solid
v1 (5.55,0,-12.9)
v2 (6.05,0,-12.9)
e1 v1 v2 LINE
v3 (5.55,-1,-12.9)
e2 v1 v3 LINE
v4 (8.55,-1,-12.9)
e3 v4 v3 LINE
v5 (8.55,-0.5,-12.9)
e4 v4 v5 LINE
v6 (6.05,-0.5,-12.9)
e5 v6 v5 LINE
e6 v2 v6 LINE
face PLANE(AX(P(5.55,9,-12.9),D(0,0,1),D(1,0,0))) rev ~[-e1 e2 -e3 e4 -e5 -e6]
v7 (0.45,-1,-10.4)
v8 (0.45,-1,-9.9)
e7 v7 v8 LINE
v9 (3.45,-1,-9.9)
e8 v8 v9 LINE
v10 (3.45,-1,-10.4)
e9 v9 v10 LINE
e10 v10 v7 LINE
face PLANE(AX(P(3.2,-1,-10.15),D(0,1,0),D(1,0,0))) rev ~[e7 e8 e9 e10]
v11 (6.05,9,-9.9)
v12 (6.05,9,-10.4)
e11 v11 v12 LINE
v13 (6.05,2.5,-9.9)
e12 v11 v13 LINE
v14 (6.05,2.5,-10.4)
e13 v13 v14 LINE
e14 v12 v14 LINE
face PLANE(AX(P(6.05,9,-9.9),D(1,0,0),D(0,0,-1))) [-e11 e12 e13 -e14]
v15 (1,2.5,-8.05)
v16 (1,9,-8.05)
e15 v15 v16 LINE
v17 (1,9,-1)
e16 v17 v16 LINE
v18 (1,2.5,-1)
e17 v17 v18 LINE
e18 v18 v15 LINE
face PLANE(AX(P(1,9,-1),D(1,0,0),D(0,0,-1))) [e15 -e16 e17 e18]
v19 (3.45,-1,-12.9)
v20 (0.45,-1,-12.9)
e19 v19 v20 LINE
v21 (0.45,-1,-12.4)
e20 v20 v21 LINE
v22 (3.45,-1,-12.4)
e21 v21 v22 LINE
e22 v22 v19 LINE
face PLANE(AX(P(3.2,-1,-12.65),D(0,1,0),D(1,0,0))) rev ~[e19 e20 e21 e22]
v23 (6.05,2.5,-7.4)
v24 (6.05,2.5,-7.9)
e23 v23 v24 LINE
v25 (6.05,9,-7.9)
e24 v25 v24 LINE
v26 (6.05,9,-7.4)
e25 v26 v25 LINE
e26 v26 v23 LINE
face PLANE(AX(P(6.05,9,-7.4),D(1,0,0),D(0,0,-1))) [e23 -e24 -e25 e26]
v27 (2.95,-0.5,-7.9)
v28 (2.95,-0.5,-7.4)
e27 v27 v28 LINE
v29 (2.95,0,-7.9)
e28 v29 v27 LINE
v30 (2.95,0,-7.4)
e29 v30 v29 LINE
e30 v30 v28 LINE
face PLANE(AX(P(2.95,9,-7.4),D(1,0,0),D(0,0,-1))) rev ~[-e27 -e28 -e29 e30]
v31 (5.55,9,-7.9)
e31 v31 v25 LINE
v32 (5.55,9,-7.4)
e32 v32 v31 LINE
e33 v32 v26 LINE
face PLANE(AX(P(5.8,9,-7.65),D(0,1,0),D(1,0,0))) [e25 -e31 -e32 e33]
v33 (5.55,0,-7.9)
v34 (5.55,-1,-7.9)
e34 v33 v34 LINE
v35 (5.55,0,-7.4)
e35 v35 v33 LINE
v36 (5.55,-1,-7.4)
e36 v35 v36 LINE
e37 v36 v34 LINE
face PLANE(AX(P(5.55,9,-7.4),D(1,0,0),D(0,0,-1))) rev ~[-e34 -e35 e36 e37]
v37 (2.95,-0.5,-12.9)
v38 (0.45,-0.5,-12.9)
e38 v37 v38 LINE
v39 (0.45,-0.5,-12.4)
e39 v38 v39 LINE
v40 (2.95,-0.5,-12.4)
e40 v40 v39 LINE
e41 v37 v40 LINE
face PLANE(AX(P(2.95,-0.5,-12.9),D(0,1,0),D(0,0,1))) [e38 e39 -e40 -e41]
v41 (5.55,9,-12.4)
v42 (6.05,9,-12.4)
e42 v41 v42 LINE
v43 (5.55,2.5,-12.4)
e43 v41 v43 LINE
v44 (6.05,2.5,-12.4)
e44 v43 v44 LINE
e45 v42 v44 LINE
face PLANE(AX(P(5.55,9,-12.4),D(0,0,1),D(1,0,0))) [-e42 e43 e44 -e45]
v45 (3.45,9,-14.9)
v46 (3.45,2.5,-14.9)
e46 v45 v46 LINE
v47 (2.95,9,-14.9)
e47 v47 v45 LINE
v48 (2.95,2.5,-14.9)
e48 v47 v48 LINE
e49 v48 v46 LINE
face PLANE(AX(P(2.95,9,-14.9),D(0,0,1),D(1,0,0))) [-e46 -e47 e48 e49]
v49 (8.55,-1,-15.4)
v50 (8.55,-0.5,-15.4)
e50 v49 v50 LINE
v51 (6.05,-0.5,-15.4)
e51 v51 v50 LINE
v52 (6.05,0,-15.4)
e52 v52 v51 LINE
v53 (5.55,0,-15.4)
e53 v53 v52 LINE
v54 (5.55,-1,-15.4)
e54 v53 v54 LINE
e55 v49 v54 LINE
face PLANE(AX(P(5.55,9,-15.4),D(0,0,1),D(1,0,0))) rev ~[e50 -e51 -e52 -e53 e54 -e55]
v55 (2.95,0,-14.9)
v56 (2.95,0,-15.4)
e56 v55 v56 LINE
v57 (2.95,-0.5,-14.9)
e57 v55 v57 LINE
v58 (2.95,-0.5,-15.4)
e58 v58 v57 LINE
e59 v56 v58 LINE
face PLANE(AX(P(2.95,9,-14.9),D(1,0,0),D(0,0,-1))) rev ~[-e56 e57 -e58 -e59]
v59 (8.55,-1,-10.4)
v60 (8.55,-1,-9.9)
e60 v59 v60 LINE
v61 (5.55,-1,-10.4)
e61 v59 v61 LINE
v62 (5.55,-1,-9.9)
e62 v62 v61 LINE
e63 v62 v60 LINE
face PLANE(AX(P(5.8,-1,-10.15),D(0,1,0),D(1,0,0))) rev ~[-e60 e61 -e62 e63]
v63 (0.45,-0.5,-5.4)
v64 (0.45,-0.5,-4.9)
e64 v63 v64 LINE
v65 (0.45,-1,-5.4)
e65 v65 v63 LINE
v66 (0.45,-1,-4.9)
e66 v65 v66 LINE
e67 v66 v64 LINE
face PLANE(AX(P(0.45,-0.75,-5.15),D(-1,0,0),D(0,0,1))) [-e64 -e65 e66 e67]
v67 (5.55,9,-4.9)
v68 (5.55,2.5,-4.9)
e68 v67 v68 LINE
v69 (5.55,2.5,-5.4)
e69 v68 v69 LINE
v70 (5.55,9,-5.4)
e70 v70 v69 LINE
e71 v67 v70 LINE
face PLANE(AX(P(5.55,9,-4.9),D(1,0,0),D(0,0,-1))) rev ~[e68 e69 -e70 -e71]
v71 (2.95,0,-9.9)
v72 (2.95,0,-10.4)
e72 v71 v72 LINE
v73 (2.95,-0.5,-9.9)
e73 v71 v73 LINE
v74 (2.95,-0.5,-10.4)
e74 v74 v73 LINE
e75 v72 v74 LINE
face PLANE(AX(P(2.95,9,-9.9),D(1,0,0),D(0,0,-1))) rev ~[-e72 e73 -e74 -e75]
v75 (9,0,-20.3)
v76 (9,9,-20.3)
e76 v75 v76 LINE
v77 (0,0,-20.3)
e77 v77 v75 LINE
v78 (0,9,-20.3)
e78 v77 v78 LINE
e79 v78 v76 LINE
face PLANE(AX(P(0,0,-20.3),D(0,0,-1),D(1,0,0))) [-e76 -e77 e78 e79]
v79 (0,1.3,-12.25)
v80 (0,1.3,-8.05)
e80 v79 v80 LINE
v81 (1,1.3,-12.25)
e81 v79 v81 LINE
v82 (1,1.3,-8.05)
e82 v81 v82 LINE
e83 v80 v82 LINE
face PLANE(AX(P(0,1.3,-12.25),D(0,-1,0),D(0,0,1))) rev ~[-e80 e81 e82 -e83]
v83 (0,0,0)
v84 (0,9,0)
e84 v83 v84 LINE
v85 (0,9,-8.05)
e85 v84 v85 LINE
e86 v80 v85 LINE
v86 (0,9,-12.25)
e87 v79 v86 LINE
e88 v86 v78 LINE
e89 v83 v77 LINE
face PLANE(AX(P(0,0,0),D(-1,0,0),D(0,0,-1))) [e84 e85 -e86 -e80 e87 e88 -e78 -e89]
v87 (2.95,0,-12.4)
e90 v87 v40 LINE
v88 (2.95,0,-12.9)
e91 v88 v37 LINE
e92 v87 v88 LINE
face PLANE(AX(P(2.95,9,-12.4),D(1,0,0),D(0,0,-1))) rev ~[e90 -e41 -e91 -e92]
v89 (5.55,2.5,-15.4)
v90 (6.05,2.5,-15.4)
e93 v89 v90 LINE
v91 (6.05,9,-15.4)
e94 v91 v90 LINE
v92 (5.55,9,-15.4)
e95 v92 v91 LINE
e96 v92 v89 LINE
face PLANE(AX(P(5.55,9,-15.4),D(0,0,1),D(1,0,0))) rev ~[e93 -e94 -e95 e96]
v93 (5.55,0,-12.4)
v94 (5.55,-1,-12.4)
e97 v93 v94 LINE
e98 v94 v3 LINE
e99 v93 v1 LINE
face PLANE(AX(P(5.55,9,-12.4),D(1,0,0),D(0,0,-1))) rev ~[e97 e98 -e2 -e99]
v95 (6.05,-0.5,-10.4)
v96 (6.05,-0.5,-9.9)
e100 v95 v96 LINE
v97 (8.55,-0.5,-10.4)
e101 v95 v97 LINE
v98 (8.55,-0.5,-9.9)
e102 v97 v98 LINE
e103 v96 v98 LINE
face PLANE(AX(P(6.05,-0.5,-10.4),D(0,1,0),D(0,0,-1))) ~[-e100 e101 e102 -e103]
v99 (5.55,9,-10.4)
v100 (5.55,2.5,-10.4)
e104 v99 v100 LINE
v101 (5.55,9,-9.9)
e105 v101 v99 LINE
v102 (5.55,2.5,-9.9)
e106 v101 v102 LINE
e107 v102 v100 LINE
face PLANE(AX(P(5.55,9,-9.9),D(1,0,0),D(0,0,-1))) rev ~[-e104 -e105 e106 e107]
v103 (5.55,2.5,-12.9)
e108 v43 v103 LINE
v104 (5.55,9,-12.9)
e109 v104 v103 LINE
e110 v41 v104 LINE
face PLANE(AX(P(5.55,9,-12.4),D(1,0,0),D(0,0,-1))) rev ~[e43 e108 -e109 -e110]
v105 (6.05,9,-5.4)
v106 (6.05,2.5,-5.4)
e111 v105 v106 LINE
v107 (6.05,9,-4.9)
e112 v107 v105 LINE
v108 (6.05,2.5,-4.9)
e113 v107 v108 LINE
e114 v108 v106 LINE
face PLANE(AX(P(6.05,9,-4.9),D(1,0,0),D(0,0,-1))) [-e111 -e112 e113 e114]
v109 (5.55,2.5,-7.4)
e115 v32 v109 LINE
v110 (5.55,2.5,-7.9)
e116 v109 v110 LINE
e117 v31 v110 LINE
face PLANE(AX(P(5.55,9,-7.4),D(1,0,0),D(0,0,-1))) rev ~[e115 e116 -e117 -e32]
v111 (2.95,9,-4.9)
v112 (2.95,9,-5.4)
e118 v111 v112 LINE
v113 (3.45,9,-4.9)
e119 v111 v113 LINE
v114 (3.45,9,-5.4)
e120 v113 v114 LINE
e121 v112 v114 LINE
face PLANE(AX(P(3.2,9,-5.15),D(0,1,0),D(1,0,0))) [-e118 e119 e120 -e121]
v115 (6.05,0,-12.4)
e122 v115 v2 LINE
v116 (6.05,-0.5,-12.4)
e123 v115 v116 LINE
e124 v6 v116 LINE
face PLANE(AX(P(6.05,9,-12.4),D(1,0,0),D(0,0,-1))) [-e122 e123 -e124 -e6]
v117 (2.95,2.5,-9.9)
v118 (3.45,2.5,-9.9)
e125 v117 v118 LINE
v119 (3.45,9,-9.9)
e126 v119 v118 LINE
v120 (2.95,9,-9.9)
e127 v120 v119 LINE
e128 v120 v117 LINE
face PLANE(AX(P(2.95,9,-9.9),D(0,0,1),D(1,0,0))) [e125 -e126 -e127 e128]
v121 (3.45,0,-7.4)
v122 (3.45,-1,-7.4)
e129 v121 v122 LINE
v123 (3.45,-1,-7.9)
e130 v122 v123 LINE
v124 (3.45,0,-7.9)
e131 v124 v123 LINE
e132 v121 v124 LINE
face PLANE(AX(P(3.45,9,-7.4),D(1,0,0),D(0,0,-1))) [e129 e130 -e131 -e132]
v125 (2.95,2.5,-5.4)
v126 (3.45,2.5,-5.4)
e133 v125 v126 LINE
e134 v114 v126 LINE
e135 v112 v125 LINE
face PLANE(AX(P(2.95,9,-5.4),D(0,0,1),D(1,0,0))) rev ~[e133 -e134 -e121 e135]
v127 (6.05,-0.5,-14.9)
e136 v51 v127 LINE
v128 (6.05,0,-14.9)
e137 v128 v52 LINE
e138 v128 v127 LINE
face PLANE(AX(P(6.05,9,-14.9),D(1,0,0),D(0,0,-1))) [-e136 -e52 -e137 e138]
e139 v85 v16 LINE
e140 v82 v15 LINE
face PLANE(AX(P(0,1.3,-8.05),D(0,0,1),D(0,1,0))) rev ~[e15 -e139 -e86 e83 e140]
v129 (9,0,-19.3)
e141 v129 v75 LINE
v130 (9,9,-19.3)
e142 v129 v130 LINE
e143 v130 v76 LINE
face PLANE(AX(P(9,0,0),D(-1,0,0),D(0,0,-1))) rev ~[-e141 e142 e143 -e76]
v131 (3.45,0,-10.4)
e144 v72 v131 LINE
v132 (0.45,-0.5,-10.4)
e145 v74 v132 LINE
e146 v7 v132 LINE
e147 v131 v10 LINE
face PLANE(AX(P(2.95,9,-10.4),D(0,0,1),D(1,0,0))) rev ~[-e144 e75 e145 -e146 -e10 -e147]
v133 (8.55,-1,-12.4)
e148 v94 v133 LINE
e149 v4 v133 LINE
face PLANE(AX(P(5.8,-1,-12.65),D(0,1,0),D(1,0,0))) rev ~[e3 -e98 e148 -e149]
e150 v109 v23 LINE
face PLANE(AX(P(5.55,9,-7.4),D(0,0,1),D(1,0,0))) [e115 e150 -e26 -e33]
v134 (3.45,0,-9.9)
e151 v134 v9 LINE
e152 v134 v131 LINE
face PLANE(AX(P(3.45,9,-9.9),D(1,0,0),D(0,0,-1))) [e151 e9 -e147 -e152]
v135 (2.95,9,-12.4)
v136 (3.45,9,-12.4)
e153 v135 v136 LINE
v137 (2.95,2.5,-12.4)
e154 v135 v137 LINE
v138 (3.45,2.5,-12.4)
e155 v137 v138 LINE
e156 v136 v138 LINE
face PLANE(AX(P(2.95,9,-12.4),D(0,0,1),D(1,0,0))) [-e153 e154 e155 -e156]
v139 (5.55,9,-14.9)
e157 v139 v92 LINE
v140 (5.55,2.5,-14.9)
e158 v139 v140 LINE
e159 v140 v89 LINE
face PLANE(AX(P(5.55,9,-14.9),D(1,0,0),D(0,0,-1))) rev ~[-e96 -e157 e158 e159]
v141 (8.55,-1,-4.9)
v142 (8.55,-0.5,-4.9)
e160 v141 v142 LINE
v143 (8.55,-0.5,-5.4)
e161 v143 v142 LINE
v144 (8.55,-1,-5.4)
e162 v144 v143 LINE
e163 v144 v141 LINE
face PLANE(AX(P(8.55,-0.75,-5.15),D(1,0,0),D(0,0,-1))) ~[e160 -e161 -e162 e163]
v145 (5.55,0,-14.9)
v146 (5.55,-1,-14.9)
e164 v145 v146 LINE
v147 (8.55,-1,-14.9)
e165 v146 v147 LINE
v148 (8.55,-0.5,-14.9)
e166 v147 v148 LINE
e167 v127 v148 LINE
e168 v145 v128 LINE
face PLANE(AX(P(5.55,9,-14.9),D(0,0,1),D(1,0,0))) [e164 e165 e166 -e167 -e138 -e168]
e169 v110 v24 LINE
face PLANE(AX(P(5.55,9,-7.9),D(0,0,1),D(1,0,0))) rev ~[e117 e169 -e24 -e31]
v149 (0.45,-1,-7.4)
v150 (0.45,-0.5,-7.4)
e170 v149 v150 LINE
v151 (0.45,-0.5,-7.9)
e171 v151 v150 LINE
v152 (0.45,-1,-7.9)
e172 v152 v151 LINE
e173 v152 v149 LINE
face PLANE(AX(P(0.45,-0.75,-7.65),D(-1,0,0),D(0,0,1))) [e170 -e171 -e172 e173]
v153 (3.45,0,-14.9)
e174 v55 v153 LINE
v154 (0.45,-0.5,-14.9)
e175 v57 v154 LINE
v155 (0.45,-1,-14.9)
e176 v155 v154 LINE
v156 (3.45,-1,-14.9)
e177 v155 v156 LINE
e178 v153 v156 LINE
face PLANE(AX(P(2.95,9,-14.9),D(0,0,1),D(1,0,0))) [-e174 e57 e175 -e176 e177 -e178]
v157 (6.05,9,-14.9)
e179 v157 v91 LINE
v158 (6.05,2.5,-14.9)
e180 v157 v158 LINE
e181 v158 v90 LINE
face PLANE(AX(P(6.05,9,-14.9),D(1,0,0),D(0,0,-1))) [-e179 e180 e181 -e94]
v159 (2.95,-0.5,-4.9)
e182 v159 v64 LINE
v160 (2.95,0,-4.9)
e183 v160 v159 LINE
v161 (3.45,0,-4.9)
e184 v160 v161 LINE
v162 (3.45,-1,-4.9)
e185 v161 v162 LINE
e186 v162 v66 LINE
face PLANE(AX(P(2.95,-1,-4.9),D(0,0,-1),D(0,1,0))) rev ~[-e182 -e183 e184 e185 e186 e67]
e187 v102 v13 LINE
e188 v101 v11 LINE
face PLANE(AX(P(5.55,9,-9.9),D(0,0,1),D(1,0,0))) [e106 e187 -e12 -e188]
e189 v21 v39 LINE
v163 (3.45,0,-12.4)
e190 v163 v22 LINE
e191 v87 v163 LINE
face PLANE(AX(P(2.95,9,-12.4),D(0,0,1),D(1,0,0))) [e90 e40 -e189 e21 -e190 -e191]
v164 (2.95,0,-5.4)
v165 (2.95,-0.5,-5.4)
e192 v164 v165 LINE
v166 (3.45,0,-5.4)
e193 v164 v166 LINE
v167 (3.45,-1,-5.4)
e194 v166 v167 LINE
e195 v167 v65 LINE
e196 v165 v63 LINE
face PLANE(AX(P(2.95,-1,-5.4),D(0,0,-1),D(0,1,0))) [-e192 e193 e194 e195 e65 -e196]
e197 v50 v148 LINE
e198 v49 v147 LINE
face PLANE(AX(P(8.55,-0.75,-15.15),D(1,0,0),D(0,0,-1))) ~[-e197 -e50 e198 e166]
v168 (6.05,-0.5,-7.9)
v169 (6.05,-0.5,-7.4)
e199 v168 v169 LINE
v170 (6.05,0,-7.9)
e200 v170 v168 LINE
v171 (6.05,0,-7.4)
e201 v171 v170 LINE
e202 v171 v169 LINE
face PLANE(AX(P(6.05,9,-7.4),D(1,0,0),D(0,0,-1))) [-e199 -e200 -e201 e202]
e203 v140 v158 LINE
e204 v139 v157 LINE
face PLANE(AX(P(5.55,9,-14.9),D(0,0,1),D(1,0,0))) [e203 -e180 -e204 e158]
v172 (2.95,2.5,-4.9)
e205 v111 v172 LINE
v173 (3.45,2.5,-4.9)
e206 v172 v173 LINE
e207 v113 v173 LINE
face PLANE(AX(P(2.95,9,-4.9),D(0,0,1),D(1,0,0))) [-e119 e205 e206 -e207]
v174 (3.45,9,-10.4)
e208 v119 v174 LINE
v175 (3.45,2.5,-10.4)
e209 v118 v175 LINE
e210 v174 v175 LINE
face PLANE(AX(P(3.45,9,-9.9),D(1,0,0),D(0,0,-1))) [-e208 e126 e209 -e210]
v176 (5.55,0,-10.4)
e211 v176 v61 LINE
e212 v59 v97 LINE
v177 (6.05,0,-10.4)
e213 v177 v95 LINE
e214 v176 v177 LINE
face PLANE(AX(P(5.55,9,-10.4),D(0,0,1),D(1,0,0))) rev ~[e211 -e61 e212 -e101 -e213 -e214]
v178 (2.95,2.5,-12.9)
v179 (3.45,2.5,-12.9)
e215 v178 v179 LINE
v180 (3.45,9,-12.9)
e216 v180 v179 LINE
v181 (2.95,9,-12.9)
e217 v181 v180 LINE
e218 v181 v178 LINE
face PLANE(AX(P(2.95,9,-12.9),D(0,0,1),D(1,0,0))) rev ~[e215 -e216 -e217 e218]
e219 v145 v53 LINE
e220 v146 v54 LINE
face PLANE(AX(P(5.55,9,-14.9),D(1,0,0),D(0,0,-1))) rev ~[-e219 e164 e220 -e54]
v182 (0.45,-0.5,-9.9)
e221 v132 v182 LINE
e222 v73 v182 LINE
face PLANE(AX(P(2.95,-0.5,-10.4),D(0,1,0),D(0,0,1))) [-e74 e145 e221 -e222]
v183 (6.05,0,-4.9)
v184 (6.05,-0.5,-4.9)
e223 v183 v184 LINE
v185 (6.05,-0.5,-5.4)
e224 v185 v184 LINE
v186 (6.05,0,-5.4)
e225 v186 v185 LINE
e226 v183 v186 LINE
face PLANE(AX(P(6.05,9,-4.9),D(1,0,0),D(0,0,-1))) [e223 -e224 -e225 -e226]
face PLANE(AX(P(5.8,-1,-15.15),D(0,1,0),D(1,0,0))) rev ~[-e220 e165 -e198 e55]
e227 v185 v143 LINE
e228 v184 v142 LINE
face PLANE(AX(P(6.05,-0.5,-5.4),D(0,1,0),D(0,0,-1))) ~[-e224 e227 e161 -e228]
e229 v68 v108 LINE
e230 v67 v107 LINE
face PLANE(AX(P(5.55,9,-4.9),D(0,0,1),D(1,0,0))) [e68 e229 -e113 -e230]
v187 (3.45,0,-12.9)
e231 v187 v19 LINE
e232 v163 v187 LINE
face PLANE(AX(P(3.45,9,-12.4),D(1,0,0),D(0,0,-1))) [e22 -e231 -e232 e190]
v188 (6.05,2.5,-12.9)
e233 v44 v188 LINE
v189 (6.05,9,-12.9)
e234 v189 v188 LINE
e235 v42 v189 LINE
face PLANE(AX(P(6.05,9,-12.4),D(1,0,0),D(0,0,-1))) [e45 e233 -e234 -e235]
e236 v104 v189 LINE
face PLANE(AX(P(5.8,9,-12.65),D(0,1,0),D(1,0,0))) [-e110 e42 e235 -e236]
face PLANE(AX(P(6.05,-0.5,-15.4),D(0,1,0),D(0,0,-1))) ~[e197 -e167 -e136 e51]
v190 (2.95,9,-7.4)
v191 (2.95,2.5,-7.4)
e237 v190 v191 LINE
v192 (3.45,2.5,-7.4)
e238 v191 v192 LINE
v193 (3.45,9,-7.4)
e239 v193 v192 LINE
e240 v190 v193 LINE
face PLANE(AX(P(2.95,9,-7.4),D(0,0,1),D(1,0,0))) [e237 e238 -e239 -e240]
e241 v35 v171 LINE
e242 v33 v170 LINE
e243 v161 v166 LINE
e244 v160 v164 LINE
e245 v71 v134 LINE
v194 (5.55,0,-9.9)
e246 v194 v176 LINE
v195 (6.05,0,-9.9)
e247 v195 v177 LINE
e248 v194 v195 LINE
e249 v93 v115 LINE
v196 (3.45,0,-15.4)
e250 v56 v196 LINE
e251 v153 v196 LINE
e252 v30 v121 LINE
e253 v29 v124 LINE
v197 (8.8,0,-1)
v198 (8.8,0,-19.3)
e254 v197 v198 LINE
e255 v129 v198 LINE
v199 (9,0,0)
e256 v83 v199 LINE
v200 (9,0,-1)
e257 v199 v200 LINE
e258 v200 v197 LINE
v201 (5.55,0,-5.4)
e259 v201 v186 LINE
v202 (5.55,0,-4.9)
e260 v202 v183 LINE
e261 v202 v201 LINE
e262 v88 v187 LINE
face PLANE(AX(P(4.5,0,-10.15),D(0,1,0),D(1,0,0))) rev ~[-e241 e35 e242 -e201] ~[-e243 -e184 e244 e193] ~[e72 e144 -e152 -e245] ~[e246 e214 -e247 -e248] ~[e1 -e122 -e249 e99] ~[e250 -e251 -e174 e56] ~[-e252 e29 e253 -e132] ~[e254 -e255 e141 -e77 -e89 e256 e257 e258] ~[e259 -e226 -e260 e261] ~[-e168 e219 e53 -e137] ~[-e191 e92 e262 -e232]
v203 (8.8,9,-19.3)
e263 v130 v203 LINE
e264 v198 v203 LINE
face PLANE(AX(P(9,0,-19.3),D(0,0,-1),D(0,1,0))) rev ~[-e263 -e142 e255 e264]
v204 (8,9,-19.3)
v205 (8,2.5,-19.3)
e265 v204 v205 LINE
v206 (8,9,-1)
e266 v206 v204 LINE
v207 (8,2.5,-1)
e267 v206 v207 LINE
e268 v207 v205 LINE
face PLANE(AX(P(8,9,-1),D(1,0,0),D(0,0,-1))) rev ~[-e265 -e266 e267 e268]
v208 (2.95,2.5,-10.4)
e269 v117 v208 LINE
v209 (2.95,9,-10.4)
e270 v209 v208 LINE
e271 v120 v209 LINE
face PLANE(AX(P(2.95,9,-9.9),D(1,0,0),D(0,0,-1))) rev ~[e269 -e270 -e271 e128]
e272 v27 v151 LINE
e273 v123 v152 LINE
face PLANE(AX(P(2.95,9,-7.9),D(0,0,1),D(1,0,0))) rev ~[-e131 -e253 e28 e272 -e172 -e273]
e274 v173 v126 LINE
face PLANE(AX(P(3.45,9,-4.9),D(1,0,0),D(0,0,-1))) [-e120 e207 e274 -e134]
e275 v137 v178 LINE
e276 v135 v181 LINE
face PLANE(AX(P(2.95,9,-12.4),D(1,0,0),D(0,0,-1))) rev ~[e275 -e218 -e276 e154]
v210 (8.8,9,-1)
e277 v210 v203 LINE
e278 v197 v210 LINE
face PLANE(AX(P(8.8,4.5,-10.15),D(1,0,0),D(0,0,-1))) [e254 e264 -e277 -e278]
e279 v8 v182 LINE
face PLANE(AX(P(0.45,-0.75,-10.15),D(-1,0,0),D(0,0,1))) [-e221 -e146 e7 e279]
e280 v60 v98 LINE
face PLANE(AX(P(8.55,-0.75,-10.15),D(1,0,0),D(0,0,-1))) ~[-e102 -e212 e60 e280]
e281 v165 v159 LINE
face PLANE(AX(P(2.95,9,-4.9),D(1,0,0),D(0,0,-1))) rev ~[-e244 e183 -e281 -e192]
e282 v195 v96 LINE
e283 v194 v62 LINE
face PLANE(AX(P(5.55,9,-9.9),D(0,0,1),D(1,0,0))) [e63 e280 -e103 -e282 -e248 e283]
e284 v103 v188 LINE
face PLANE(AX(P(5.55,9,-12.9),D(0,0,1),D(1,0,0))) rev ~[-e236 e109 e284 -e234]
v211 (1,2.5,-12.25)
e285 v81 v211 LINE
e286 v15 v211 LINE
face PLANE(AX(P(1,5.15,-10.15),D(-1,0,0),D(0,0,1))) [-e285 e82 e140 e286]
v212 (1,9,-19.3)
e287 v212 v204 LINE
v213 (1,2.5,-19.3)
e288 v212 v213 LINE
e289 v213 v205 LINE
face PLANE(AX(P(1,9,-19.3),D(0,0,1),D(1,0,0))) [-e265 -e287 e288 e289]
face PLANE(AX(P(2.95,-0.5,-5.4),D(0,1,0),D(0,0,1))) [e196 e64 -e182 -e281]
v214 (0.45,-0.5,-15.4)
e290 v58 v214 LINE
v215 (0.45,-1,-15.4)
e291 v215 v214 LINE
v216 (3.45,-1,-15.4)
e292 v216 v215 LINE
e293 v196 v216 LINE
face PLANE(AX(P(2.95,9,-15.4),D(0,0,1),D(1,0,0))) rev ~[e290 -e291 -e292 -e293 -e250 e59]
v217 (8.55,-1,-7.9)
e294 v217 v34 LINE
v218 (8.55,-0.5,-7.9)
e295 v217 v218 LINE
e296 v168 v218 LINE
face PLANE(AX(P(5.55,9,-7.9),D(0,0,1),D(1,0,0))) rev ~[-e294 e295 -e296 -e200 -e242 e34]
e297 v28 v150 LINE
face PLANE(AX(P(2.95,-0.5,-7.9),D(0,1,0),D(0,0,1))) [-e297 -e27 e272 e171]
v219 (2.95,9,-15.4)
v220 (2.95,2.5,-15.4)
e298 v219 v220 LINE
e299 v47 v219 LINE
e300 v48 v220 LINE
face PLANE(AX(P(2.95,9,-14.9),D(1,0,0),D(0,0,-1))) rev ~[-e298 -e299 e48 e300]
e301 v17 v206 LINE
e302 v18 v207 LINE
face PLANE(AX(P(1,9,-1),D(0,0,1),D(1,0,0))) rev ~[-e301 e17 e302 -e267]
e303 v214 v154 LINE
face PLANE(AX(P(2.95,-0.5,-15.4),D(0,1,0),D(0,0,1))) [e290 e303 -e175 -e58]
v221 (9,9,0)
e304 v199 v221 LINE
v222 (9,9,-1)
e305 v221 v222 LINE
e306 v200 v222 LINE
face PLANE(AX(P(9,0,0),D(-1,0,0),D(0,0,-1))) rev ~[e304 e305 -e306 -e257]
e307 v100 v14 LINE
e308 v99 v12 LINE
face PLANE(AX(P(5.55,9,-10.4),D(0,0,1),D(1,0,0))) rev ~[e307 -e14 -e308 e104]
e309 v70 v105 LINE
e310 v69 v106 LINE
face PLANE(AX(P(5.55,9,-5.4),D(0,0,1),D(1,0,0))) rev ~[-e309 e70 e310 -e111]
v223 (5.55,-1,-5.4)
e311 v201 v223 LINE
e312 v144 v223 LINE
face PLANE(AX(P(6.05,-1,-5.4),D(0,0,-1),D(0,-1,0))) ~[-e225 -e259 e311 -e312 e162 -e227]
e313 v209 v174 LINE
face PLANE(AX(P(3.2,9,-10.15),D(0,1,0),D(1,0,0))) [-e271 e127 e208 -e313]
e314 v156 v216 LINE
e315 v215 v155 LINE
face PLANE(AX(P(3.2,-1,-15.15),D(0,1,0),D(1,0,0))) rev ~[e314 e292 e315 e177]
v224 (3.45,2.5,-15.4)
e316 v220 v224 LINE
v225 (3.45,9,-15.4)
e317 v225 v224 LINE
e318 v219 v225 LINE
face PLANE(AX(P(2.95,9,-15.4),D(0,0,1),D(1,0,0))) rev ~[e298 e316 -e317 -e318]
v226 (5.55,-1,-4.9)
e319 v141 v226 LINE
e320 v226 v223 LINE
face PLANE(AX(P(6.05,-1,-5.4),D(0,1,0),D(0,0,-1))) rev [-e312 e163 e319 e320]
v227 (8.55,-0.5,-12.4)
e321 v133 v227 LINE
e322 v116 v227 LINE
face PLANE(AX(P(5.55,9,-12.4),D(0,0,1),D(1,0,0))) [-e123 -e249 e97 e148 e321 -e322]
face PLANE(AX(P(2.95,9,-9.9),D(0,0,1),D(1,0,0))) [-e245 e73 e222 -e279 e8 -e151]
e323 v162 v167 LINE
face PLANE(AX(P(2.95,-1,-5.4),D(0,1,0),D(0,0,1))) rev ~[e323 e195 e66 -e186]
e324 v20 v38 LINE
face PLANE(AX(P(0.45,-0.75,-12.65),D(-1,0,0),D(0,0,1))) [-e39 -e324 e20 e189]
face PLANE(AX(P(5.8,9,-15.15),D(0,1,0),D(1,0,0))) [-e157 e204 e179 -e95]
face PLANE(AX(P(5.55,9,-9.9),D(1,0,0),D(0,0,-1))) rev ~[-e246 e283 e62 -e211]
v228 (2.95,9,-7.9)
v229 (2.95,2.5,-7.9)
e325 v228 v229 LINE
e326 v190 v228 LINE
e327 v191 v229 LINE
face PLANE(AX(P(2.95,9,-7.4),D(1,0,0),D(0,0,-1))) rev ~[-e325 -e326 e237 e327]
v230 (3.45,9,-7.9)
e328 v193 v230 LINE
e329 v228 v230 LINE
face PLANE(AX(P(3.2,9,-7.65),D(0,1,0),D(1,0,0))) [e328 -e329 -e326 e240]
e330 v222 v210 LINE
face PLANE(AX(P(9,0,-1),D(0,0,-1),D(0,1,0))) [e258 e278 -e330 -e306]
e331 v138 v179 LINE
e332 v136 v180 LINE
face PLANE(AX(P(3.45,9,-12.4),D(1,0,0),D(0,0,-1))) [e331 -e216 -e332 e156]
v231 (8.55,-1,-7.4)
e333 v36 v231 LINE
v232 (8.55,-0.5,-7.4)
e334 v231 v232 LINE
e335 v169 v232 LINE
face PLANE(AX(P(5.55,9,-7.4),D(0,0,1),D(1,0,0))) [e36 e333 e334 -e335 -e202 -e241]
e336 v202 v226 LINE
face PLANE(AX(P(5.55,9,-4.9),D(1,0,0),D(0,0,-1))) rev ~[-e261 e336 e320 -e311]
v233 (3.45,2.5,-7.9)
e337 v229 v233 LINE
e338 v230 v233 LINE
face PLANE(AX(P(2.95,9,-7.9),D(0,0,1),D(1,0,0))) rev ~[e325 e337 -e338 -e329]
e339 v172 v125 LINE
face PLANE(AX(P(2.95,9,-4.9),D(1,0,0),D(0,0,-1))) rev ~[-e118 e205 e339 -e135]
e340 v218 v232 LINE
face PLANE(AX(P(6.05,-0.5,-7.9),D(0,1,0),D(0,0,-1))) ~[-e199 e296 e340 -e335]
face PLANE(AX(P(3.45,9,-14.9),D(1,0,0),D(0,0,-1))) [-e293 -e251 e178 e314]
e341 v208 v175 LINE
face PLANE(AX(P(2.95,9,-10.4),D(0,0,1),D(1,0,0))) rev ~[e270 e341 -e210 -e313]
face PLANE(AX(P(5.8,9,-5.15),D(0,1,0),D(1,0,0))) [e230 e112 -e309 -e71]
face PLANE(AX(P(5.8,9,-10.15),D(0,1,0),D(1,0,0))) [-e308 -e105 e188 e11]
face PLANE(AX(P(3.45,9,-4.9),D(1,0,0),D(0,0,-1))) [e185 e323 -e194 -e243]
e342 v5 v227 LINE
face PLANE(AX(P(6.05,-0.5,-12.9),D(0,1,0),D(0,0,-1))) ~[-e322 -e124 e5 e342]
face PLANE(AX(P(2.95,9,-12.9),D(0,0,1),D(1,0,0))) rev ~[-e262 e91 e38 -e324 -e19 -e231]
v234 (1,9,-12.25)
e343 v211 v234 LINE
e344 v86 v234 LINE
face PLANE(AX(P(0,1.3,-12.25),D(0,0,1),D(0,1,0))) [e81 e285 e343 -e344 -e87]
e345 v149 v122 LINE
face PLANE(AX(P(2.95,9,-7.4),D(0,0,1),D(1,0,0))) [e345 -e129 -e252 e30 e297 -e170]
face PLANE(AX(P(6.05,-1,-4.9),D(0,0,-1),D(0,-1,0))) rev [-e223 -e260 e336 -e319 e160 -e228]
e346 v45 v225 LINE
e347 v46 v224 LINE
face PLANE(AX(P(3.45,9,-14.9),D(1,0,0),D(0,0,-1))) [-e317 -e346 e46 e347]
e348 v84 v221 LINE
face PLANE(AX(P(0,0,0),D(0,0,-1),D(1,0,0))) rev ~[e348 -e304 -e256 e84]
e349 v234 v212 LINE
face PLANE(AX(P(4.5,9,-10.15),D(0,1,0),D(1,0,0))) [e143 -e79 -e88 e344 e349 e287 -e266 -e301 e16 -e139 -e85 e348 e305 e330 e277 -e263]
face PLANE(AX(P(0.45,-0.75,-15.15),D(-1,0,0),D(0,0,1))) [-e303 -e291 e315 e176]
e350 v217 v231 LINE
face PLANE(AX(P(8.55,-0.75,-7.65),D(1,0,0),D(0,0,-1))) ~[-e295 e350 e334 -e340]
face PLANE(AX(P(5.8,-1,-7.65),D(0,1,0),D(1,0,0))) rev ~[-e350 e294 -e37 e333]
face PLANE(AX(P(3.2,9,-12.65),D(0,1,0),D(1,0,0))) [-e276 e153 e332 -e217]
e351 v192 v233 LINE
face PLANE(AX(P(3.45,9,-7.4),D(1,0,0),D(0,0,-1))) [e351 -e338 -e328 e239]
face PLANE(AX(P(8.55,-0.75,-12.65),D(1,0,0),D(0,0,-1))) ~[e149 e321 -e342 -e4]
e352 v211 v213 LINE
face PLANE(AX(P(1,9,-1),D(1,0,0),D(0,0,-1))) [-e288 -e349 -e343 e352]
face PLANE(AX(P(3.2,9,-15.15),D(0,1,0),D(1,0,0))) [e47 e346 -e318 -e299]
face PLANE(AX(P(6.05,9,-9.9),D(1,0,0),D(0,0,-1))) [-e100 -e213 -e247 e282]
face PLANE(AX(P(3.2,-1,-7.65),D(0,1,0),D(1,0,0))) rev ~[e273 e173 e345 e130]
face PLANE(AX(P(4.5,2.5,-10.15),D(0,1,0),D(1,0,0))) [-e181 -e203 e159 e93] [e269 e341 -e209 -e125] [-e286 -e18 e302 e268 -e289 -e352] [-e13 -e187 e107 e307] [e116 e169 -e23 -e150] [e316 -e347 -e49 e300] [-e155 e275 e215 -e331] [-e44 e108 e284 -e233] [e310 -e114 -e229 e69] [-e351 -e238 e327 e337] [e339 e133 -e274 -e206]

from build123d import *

# Parameters (mm, degrees)
CROQUIS1_W              = 9
CROQUIS1_H              = 20.3
SALIENTE_EXTRUIR1_DEPTH = 9
CROQUIS2_W              = 7
CROQUIS2_H              = 18.3
CORTAR_EXTRUIR1_DEPTH   = 6.5
CROQUIS3_W              = 18.3
CROQUIS3_H              = 9
CORTAR_EXTRUIR2_DEPTH   = 0.2
CROQUIS4_W              = 4.2
CROQUIS4_H              = 7.7
CORTAR_EXTRUIR3_DEPTH   = 1
CROQUIS5_W              = 0.5
CROQUIS5_H              = 0.5
SALIENTE_EXTRUIR2_DEPTH = 10
CROQUIS6_W              = 0.5
CROQUIS6_H              = 0.5
SALIENTE_EXTRUIR3_DEPTH = 2.5


with BuildPart() as part:
    # Croquis1 → Saliente-Extruir1 (new body)
    with BuildSketch(Plane(origin=(0, 0, 0), x_dir=(1, 0, 0), z_dir=(0, 1, 0))):
        with Locations((4.5, 10.15)):
            Rectangle(CROQUIS1_W, CROQUIS1_H)
    extrude(amount=SALIENTE_EXTRUIR1_DEPTH)

    # Croquis2 → Cortar-Extruir1 (cut)
    with BuildSketch(Plane(origin=(0, 9, 0), x_dir=(1, 0, 0), z_dir=(0, 1, 0))):
        with Locations((4.5, 10.15)):
            Rectangle(CROQUIS2_W, CROQUIS2_H)
    extrude(amount=-CORTAR_EXTRUIR1_DEPTH, mode=Mode.SUBTRACT)

    # Croquis3 → Cortar-Extruir2 (cut)
    with BuildSketch(Plane(origin=(9, 0, 0), x_dir=(0, 0, -1), z_dir=(1, 0, 0))):
        with Locations((10.15, 4.5)):
            Rectangle(CROQUIS3_W, CROQUIS3_H)
    extrude(amount=-CORTAR_EXTRUIR2_DEPTH, mode=Mode.SUBTRACT)

    # Croquis4 → Cortar-Extruir3 (cut)
    with BuildSketch(Plane.ZY):
        with Locations((-10.15, 5.15)):
            Rectangle(CROQUIS4_W, CROQUIS4_H)
    extrude(amount=-CORTAR_EXTRUIR3_DEPTH, mode=Mode.SUBTRACT)

    # Croquis5 → Saliente-Extruir2 (add)
    with BuildSketch(Plane(origin=(0, 9, 0), x_dir=(1, 0, 0), z_dir=(0, 1, 0))):
        with Locations((5.8, 15.15)):
            Rectangle(CROQUIS5_W, CROQUIS5_H)
        with Locations((3.2, 15.15)):
            Rectangle(CROQUIS5_W, CROQUIS5_H)
        with Locations((5.8, 12.65)):
            Rectangle(CROQUIS5_W, CROQUIS5_H)
        with Locations((5.8, 10.15)):
            Rectangle(CROQUIS5_W, CROQUIS5_H)
        with Locations((5.8, 7.65)):
            Rectangle(CROQUIS5_W, CROQUIS5_H)
        with Locations((5.8, 5.15)):
            Rectangle(CROQUIS5_W, CROQUIS5_H)
        with Locations((3.2, 12.65)):
            Rectangle(CROQUIS5_W, CROQUIS5_H)
        with Locations((3.2, 10.15)):
            Rectangle(CROQUIS5_W, CROQUIS5_H)
        with Locations((3.2, 7.65)):
            Rectangle(CROQUIS5_W, CROQUIS5_H)
        with Locations((3.2, 5.15)):
            Rectangle(CROQUIS5_W, CROQUIS5_H)
    extrude(amount=-SALIENTE_EXTRUIR2_DEPTH)

    # Croquis6 → Saliente-Extruir3 (add)
    with BuildSketch(Plane.ZY.offset(-2.95)):
        with Locations((-5.15, -0.75)):
            Rectangle(CROQUIS6_W, CROQUIS6_H)
        with Locations((-7.65, -0.75)):
            Rectangle(CROQUIS6_W, CROQUIS6_H)
        with Locations((-10.15, -0.75)):
            Rectangle(CROQUIS6_W, CROQUIS6_H)
        with Locations((-12.65, -0.75)):
            Rectangle(CROQUIS6_W, CROQUIS6_H)
        with Locations((-15.15, -0.75)):
            Rectangle(CROQUIS6_W, CROQUIS6_H)
    saliente_extruir3 = extrude(amount=SALIENTE_EXTRUIR3_DEPTH)

    # Simetría1: Saliente-Extruir3 across plane
    add(saliente_extruir3.mirror(Plane(origin=(4.5, 0, 0), x_dir=(0, 0, 1), z_dir=(1, 0, 0))))


solid = part.part
